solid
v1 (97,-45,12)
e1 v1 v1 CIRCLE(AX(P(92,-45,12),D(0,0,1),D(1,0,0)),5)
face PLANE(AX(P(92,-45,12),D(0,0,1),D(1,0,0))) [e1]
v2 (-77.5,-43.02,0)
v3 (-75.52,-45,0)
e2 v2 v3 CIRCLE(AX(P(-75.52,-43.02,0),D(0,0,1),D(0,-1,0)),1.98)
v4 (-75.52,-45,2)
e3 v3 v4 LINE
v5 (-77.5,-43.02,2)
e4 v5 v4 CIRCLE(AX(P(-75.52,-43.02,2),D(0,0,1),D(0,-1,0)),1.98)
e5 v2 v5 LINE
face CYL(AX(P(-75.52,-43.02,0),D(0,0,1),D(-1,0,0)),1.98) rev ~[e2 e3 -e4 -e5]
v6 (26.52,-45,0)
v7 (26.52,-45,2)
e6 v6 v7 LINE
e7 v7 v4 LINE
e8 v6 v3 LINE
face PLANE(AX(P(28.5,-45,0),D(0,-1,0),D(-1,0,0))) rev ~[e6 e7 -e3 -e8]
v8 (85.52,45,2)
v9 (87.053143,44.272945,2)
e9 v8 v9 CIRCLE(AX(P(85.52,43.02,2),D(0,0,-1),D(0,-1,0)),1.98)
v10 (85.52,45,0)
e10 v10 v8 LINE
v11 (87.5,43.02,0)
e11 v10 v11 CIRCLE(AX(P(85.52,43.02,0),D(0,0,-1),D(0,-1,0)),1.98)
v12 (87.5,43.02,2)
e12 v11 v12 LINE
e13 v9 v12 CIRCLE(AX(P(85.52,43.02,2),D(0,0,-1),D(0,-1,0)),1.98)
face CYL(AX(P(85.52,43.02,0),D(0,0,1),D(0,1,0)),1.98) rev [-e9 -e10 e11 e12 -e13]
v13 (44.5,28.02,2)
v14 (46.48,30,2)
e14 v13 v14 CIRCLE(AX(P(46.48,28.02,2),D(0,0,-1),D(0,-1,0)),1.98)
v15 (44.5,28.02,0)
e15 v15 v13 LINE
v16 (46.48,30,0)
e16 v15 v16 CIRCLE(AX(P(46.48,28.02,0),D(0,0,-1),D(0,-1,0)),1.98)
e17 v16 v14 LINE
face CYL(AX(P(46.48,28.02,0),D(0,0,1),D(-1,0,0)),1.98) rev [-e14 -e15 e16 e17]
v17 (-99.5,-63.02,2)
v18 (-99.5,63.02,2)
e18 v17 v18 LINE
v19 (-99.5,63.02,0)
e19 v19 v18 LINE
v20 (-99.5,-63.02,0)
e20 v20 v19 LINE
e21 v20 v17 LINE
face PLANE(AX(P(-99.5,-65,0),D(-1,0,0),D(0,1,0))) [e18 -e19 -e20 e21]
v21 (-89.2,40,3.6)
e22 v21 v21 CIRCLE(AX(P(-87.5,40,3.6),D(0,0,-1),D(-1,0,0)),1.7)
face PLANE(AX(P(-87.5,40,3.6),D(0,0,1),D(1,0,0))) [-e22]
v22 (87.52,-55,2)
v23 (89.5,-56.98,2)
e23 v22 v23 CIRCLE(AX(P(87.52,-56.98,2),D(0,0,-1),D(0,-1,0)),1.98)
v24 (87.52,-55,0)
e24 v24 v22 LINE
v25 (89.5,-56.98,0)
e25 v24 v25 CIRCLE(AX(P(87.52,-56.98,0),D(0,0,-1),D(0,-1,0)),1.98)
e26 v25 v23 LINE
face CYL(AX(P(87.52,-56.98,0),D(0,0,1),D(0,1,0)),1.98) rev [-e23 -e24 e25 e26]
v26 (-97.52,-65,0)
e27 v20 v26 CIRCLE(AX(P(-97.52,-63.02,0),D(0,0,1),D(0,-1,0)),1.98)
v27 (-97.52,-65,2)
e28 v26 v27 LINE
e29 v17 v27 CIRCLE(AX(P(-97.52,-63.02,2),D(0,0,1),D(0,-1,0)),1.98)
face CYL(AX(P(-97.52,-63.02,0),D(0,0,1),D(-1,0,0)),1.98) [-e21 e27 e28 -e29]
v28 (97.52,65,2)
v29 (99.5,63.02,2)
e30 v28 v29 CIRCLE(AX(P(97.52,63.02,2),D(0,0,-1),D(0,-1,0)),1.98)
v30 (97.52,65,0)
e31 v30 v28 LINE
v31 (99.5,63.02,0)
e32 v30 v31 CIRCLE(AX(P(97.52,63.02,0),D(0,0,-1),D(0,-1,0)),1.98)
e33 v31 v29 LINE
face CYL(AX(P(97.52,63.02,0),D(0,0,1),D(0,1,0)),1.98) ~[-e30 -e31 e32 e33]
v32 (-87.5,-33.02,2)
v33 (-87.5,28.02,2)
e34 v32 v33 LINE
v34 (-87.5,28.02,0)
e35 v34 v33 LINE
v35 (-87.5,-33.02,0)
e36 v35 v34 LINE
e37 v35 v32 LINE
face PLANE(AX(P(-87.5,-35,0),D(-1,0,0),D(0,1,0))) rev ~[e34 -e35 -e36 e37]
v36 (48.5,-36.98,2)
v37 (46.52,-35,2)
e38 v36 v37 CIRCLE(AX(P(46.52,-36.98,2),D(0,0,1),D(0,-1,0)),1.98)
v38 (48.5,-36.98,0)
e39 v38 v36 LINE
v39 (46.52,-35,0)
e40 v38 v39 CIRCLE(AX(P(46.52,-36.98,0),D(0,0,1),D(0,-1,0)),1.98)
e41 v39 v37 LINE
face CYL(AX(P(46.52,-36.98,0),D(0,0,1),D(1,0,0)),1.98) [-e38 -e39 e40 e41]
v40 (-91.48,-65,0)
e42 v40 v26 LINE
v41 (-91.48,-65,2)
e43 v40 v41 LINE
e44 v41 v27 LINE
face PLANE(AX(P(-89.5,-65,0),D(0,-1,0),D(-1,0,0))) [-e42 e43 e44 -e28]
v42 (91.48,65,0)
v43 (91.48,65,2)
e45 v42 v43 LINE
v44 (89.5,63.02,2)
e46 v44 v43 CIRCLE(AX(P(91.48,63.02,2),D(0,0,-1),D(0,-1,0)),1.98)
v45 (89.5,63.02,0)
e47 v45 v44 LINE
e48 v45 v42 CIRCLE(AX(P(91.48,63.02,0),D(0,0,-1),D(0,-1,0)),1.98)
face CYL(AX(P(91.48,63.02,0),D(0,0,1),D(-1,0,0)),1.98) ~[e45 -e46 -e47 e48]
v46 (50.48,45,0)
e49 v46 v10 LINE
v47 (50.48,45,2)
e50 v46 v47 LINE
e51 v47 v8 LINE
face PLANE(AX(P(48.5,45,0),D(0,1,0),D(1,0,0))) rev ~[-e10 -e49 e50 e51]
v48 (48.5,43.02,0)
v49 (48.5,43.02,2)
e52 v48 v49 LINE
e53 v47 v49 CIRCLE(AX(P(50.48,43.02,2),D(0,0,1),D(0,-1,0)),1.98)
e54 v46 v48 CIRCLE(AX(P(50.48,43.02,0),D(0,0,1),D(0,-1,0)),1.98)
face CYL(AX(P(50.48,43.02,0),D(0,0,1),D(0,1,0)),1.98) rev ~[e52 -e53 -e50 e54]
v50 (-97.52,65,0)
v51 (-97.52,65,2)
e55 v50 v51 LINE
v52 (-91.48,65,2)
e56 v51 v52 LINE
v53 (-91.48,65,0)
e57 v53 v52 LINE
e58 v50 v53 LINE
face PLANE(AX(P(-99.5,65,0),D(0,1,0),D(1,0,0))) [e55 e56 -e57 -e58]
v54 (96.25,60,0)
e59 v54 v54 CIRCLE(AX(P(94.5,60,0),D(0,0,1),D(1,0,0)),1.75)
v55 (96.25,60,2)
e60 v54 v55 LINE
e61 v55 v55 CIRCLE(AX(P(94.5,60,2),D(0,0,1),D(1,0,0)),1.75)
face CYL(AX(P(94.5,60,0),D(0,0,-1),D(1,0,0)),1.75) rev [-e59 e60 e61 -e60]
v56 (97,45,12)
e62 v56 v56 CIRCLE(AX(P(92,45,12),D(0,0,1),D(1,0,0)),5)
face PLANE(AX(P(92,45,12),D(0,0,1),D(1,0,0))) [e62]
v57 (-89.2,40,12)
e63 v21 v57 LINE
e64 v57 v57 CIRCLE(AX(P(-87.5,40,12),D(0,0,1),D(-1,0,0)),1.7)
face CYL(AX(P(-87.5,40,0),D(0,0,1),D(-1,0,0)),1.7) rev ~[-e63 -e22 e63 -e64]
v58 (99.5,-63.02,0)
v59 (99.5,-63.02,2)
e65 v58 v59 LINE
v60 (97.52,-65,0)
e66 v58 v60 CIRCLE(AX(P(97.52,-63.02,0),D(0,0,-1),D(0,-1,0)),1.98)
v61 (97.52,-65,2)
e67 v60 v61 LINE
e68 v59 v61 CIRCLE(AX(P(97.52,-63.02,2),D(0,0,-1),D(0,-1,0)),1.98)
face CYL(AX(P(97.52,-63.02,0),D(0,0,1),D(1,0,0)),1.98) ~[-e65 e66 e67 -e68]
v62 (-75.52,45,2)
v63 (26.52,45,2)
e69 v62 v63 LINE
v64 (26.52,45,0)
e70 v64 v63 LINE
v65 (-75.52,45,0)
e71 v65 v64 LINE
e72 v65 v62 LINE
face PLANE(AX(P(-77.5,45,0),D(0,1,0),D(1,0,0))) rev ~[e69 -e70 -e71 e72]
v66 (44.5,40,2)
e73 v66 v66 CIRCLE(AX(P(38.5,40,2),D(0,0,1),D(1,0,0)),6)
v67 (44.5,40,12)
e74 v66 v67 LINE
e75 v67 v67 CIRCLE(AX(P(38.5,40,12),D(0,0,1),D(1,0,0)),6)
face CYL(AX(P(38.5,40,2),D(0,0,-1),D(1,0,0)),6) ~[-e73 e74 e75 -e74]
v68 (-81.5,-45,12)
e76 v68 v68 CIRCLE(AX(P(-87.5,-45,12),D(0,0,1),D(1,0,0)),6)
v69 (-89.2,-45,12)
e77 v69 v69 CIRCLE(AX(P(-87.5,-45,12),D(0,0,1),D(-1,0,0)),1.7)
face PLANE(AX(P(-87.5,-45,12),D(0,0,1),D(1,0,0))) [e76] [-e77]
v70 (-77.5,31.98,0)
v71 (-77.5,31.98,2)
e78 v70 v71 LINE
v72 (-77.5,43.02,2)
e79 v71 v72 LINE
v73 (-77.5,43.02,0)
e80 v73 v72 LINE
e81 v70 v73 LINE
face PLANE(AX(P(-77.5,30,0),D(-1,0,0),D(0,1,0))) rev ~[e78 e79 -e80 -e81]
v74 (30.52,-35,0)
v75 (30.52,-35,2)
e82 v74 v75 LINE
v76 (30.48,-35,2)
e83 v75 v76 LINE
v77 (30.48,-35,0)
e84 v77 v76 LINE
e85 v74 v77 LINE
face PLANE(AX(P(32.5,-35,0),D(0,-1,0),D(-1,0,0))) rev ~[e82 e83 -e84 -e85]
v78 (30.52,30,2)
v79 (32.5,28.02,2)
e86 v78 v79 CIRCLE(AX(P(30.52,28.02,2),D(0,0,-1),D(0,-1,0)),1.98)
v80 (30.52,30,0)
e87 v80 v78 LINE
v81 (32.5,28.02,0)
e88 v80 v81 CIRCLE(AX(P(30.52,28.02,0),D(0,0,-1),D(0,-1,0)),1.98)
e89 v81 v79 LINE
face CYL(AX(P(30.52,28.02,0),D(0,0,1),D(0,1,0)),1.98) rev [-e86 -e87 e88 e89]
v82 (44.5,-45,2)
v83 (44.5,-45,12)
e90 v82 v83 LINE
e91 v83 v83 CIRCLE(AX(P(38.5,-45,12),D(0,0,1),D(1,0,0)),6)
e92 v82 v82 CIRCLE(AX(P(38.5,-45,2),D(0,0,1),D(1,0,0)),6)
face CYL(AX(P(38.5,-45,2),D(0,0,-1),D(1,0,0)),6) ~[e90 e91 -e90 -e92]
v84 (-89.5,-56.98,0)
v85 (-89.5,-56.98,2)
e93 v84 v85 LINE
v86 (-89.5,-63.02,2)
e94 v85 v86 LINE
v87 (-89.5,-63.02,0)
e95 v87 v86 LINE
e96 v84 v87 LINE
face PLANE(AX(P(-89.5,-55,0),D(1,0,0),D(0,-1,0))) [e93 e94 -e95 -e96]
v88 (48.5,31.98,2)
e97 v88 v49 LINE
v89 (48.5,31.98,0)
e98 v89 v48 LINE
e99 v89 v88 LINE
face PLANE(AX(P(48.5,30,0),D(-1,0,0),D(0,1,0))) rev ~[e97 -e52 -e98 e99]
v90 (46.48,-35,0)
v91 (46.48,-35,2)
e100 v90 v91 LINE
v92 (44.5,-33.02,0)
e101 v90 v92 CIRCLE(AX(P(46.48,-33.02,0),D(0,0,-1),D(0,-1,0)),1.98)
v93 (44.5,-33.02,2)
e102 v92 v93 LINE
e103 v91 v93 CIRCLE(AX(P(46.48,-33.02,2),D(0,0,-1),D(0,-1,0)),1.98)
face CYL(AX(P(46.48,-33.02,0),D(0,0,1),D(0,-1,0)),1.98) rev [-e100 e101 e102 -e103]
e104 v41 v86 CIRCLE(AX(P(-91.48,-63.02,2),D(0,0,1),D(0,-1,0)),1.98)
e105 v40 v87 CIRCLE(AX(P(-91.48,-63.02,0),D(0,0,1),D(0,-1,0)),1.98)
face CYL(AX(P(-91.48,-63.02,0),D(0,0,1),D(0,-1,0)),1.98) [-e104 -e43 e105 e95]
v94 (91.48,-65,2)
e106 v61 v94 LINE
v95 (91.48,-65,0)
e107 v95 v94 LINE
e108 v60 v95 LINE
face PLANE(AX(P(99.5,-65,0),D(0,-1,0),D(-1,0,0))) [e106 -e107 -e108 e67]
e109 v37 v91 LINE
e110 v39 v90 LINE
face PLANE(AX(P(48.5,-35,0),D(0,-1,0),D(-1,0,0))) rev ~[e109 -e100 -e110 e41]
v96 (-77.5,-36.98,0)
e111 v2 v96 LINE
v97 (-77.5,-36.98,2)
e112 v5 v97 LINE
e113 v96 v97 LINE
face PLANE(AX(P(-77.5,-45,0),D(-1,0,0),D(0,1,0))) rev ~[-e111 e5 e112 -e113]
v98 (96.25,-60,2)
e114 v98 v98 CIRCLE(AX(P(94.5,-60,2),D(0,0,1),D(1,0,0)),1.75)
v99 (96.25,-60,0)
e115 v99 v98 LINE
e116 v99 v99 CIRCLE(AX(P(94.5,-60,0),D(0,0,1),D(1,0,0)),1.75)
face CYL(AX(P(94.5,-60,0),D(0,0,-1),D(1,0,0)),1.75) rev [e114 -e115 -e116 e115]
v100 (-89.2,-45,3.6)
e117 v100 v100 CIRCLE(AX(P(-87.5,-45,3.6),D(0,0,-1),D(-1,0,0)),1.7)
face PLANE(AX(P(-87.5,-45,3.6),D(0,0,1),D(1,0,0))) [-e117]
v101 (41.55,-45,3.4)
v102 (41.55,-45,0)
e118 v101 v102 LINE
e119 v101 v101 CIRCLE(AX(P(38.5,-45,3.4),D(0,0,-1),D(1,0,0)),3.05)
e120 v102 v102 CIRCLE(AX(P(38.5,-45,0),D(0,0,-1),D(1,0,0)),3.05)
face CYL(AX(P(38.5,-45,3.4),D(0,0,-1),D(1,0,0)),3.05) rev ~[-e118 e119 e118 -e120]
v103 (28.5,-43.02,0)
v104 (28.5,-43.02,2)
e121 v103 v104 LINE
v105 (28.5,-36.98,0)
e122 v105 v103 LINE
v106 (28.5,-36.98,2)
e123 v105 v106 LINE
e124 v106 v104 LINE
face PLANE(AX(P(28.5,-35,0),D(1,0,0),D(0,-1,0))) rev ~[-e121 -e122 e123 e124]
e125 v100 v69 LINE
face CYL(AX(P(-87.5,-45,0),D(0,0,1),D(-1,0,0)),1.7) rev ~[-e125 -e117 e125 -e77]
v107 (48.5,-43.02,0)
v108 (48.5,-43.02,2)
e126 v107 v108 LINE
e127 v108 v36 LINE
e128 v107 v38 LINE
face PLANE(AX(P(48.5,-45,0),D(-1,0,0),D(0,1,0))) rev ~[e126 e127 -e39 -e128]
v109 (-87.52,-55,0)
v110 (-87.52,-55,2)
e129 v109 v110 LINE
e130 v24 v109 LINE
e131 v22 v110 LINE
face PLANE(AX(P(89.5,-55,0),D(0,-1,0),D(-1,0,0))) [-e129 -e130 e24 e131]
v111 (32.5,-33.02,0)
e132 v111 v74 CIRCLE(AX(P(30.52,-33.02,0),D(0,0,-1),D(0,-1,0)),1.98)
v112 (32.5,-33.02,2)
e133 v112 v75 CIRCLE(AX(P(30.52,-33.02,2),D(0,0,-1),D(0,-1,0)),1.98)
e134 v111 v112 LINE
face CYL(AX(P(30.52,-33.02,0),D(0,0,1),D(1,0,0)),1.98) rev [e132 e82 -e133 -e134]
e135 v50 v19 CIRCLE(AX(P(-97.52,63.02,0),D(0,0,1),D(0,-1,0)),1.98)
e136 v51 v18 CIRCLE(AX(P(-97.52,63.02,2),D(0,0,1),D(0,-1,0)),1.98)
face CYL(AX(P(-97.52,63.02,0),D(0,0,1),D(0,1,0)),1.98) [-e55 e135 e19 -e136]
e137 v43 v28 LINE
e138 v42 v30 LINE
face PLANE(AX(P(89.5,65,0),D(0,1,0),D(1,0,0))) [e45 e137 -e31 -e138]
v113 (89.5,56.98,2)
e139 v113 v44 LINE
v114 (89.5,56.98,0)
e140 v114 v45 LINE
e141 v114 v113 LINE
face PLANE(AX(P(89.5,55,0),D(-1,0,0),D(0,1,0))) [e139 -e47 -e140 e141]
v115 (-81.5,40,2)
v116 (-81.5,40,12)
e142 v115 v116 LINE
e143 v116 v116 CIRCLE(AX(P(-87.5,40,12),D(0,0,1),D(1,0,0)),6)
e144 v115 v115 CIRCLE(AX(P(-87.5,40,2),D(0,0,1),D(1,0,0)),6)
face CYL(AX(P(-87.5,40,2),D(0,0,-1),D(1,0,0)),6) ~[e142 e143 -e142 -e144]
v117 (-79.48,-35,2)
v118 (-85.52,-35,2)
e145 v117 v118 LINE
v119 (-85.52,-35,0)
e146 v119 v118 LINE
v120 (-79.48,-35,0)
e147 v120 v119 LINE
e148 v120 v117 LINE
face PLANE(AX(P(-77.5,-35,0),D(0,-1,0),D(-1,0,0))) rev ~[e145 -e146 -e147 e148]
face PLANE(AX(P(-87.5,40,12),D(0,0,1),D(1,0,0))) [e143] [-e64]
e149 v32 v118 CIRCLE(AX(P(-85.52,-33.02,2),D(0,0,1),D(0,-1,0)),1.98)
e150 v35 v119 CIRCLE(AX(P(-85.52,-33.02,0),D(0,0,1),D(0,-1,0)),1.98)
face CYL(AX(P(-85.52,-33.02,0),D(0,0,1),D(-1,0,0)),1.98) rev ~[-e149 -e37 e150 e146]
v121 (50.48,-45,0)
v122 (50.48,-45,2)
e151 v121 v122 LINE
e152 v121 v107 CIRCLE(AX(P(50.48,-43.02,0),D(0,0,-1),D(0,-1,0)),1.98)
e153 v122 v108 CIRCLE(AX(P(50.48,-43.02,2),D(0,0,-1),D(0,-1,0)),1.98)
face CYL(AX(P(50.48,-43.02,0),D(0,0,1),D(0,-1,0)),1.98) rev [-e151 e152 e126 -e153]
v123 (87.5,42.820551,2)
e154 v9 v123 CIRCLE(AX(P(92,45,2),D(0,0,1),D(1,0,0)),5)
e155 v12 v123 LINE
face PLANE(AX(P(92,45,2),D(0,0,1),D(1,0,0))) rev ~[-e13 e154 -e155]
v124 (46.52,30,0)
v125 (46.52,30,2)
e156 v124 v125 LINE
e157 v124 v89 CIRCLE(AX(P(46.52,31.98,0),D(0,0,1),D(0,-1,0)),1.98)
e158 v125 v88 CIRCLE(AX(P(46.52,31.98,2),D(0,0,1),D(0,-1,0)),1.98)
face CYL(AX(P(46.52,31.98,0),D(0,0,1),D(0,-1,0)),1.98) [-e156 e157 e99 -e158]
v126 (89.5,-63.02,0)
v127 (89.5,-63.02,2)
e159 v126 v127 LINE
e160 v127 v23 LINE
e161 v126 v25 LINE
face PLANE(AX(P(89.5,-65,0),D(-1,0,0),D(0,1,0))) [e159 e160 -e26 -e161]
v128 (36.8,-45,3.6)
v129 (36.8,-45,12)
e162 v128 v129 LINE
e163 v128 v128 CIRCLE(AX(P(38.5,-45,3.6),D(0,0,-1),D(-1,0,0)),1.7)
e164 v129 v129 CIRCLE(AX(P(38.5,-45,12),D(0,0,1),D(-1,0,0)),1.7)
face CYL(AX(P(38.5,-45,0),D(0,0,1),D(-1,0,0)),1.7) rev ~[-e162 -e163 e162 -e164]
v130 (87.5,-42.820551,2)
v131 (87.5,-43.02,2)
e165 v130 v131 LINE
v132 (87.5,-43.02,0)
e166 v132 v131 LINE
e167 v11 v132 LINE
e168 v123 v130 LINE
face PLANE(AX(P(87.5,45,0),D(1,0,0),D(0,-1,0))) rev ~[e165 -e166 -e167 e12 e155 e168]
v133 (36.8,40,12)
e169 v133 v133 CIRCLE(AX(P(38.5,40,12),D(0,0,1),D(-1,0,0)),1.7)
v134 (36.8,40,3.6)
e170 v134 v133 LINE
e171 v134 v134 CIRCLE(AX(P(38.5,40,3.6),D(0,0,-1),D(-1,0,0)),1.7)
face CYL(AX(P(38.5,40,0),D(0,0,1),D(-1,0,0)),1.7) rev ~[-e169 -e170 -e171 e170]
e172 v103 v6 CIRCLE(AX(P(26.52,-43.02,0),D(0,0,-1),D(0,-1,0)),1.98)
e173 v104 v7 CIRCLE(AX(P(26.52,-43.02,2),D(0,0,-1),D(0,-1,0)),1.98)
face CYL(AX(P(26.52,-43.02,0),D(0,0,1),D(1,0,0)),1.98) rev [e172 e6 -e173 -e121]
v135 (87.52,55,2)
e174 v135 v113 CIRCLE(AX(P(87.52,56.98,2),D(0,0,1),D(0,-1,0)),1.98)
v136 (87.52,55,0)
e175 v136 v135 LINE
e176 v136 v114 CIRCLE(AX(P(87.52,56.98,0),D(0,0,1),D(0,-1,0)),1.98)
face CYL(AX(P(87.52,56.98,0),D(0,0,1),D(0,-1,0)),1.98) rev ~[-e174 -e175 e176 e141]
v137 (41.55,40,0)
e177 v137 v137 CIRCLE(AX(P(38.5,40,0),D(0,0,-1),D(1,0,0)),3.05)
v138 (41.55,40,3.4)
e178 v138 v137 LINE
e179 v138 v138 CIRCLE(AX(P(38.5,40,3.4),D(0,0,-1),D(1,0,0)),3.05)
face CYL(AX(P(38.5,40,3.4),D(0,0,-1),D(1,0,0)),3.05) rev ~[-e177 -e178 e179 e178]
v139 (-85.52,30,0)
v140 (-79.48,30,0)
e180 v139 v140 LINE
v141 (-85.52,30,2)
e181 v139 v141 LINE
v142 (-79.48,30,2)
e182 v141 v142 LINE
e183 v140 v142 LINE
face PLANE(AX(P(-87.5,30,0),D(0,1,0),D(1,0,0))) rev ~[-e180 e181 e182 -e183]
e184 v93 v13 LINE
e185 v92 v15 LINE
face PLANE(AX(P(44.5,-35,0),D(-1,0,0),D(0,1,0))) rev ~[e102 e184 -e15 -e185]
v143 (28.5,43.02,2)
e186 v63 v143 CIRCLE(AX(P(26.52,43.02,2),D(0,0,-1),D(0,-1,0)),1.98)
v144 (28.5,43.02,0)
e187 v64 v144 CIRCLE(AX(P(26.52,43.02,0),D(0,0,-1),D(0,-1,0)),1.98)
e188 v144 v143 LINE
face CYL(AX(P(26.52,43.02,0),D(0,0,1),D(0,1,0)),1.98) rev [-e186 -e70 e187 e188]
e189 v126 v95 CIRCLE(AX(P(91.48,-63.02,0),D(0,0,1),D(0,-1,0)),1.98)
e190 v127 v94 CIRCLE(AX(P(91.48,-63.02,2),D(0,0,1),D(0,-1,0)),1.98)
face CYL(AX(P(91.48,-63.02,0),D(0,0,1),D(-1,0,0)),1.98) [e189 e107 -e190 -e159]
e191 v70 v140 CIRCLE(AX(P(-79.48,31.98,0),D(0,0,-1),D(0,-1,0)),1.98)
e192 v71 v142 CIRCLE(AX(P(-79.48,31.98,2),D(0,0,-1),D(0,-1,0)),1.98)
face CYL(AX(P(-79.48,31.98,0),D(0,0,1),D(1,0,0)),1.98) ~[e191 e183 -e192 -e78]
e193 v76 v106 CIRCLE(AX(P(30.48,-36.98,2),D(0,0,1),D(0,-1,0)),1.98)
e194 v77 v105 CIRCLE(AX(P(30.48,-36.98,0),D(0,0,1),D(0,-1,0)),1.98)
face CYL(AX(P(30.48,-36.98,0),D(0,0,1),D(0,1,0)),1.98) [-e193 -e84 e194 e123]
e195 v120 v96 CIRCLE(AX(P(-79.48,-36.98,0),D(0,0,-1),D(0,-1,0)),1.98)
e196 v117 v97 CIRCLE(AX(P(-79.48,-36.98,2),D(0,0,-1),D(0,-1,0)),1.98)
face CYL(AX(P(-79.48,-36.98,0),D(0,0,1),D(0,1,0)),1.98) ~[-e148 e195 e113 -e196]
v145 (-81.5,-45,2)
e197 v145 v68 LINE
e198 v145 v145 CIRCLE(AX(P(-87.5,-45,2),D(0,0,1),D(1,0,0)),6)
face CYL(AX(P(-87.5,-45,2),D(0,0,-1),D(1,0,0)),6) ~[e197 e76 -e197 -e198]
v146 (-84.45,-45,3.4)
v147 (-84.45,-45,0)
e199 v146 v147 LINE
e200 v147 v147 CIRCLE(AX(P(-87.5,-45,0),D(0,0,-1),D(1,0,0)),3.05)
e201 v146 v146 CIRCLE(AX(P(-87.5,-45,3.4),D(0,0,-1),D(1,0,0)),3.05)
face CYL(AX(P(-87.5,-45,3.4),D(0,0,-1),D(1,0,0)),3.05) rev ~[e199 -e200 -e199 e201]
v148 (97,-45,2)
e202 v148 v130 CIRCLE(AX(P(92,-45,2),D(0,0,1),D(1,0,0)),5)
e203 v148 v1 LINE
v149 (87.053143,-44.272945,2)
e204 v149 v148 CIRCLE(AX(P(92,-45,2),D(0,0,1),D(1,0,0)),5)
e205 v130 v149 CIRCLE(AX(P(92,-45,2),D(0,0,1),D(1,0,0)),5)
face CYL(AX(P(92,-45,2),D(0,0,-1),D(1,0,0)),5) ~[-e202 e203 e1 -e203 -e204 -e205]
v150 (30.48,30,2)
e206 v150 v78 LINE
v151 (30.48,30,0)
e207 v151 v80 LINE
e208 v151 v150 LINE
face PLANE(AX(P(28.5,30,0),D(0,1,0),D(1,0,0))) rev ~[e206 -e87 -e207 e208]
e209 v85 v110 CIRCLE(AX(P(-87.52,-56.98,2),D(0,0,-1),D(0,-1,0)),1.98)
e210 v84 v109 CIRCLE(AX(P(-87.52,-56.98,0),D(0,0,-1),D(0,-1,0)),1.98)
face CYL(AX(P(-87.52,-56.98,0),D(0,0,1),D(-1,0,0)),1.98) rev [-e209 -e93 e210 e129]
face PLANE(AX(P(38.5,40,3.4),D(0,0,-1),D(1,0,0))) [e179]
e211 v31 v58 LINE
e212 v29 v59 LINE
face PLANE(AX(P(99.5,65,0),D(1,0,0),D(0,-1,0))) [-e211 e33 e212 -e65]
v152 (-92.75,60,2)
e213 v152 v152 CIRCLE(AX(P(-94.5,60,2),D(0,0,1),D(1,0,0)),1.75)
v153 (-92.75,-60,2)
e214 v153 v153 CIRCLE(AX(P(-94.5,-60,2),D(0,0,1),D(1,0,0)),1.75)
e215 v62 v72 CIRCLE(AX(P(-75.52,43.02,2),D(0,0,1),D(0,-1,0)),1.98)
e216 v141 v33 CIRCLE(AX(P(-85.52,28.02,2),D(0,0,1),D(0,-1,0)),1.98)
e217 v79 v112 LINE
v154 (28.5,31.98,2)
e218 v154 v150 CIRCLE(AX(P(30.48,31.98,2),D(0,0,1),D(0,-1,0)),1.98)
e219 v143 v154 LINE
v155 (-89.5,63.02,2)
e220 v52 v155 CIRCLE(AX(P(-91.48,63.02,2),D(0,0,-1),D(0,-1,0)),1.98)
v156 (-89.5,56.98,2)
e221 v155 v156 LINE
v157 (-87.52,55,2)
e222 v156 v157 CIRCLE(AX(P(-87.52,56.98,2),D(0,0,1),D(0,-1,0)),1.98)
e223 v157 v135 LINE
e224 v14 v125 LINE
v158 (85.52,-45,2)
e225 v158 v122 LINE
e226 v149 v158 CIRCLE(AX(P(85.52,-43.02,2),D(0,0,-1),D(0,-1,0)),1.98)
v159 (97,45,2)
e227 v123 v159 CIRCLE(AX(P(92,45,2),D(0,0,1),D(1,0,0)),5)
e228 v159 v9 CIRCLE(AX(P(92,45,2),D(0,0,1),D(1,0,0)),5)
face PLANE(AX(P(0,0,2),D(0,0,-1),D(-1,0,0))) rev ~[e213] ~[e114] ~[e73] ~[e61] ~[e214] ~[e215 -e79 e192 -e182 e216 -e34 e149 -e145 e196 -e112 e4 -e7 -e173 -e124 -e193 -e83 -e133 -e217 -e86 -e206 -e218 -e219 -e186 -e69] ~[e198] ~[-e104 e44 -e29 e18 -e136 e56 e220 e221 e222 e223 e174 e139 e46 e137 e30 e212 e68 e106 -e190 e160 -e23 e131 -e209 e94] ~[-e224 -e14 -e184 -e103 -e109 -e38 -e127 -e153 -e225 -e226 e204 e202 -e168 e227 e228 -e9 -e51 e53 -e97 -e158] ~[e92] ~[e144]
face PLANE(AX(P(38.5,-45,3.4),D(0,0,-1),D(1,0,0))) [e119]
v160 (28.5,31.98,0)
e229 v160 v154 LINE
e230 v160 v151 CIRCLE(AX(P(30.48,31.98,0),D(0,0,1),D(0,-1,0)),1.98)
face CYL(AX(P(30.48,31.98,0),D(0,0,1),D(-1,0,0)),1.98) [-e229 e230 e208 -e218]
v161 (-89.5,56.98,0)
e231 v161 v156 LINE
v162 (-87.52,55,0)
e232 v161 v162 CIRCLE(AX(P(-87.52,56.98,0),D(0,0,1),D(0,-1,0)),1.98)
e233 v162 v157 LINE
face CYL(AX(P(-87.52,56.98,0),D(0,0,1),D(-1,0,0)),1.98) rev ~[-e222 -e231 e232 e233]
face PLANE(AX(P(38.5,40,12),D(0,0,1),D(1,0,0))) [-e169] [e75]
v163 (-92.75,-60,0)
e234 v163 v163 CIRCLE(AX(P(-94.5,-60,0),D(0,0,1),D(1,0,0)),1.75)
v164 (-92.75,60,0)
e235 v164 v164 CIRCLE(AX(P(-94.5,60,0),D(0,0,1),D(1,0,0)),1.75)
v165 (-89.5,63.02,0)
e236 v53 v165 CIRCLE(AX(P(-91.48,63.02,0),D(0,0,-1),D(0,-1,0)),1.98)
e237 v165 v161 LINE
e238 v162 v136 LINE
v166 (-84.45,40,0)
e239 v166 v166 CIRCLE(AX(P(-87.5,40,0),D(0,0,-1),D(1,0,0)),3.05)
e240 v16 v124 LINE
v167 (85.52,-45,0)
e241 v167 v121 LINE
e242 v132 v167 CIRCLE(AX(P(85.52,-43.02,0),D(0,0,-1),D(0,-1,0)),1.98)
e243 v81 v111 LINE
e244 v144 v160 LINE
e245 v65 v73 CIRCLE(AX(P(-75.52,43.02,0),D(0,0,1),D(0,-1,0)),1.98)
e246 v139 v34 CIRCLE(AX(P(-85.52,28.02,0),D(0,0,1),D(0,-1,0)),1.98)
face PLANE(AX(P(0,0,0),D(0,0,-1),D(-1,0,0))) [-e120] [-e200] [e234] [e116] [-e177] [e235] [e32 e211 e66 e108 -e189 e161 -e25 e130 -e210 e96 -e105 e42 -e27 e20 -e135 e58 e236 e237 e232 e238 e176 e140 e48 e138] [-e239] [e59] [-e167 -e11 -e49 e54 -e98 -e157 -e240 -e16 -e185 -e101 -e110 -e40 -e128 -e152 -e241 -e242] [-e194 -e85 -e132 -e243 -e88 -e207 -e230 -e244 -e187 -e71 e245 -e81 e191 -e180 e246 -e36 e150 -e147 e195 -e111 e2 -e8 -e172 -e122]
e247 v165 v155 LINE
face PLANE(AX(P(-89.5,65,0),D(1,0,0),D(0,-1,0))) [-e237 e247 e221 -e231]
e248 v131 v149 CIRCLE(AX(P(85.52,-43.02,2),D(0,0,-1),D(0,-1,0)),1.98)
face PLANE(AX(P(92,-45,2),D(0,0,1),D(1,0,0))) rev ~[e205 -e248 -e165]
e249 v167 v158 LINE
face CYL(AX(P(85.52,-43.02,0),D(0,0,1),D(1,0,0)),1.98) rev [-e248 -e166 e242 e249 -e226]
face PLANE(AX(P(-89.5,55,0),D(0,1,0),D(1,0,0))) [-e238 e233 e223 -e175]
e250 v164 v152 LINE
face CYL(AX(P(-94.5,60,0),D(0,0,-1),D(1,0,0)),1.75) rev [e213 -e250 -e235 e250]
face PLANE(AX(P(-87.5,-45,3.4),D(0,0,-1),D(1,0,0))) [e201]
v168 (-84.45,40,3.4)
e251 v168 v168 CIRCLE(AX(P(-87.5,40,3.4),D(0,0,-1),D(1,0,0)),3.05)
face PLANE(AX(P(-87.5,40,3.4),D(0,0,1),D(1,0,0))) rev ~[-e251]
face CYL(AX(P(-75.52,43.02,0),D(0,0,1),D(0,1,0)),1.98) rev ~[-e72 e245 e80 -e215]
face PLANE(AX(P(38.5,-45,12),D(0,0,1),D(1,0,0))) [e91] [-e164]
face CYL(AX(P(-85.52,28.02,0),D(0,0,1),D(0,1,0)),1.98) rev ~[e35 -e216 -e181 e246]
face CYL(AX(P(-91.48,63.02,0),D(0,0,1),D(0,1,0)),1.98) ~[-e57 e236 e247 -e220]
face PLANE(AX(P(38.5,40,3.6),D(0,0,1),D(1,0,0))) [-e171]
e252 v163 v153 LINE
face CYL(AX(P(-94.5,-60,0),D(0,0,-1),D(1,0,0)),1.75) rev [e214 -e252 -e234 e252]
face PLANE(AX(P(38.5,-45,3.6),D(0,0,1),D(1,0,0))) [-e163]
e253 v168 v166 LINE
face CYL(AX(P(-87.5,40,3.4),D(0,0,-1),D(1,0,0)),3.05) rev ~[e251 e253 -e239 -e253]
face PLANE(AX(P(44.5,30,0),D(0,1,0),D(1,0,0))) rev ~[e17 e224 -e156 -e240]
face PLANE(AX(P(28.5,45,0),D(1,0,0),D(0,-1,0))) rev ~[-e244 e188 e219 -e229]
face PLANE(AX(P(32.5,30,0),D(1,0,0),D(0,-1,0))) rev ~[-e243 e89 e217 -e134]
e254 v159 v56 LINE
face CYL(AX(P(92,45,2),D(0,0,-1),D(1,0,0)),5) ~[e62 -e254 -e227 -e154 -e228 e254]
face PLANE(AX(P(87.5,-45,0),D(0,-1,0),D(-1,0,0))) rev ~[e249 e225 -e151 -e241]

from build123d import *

# Parameters (mm, degrees)
SKETCH001_R      = 1.75
PAD_DEPTH        = 2
FILLET_R         = 1.98
SKETCH002_R      = 6
SKETCH002_R_2    = 5
PAD001_DEPTH     = 10
HOLE_D           = 3.4
HOLE_CBORE_D     = 6.1
HOLE_CBORE_DEPTH = 3.4
SKETCH004_R      = 1.7
PAD002_DEPTH     = 0.2


with BuildPart() as part:
    # Sketch001 → Pad (new body)
    with BuildSketch(Plane.XY):
        Polygon((-99.5, 65), (-89.5, 65), (-89.5, 55), (89.5, 55), (89.5, 65), (99.5, 65), (99.5, -65), (89.5, -65), (89.5, -55), (-89.5, -55), (-89.5, -65), (-99.5, -65), align=None)
        with Locations((-94.5, 60)):
            Circle(SKETCH001_R, mode=Mode.SUBTRACT)
        with Locations((94.5, 60)):
            Circle(SKETCH001_R, mode=Mode.SUBTRACT)
        with Locations((-94.5, -60)):
            Circle(SKETCH001_R, mode=Mode.SUBTRACT)
        with Locations((94.5, -60)):
            Circle(SKETCH001_R, mode=Mode.SUBTRACT)
        Polygon((-77.5, 45), (28.5, 45), (28.5, 30), (32.5, 30), (32.5, -35), (28.5, -35), (28.5, -45), (-77.5, -45), (-77.5, -35), (-87.5, -35), (-87.5, 30), (-77.5, 30), align=None, mode=Mode.SUBTRACT)
        Polygon((48.5, 45), (87.5, 45), (87.5, -45), (48.5, -45), (48.5, -35), (44.5, -35), (44.5, 30), (48.5, 30), align=None, mode=Mode.SUBTRACT)
    extrude(amount=PAD_DEPTH)

    # Fillet
    fillet_edges = [part.edges().sort_by_distance(p)[0] for p in [
        (-89.5, -65, 1),
        (-99.5, -65, 1),
        (-89.5, -55, 1),
        (48.5, 30, 1),
        (48.5, 45, 1),
        (87.5, 45, 1),
        (-77.5, 30, 1),
        (-77.5, 45, 1),
        (-89.5, 55, 1),
        (-89.5, 65, 1),
        (-99.5, 65, 1),
        (28.5, 45, 1),
        (28.5, 30, 1),
        (32.5, 30, 1),
        (32.5, -35, 1),
        (28.5, -35, 1),
        (89.5, 55, 1),
        (89.5, 65, 1),
        (99.5, 65, 1),
        (99.5, -65, 1),
        (89.5, -65, 1),
        (89.5, -55, 1),
        (28.5, -45, 1),
        (-77.5, -45, 1),
        (-77.5, -35, 1),
        (-87.5, -35, 1),
        (-87.5, 30, 1),
        (44.5, -35, 1),
        (48.5, -35, 1),
        (48.5, -45, 1),
        (87.5, -45, 1),
        (44.5, 30, 1),
    ]]
    fillet(fillet_edges, radius=FILLET_R)

    # Sketch002 → Pad001 (join)
    with BuildSketch(Plane.XY.offset(2)):
        with Locations((-87.5, 40)):
            Circle(SKETCH002_R)
        with Locations((38.5, 40)):
            Circle(SKETCH002_R)
        with Locations((38.5, -45)):
            Circle(SKETCH002_R)
        with Locations((-87.5, -45)):
            Circle(SKETCH002_R)
        with Locations((92, -45)):
            Circle(SKETCH002_R_2)
        with Locations((92, 45)):
            Circle(SKETCH002_R_2)
    extrude(amount=PAD001_DEPTH)

    # Hole (through all)
    with Locations(Plane(origin=(0, 0, 0), x_dir=(1, 0, 0), z_dir=(0, 0, -1))):
        with Locations((-87.5, -40), (38.5, -40), (38.5, 45), (-87.5, 45)):
            CounterBoreHole(HOLE_D / 2, HOLE_CBORE_D / 2, HOLE_CBORE_DEPTH)

    # Sketch004 → Pad002 (join)
    with BuildSketch(Plane.XY.offset(3.4)):
        with Locations((-87.5, 40)):
            Circle(SKETCH004_R)
        with Locations((38.5, 40)):
            Circle(SKETCH004_R)
        with Locations((38.5, -45)):
            Circle(SKETCH004_R)
        with Locations((-87.5, -45)):
            Circle(SKETCH004_R)
    extrude(amount=PAD002_DEPTH)


solid = part.part
